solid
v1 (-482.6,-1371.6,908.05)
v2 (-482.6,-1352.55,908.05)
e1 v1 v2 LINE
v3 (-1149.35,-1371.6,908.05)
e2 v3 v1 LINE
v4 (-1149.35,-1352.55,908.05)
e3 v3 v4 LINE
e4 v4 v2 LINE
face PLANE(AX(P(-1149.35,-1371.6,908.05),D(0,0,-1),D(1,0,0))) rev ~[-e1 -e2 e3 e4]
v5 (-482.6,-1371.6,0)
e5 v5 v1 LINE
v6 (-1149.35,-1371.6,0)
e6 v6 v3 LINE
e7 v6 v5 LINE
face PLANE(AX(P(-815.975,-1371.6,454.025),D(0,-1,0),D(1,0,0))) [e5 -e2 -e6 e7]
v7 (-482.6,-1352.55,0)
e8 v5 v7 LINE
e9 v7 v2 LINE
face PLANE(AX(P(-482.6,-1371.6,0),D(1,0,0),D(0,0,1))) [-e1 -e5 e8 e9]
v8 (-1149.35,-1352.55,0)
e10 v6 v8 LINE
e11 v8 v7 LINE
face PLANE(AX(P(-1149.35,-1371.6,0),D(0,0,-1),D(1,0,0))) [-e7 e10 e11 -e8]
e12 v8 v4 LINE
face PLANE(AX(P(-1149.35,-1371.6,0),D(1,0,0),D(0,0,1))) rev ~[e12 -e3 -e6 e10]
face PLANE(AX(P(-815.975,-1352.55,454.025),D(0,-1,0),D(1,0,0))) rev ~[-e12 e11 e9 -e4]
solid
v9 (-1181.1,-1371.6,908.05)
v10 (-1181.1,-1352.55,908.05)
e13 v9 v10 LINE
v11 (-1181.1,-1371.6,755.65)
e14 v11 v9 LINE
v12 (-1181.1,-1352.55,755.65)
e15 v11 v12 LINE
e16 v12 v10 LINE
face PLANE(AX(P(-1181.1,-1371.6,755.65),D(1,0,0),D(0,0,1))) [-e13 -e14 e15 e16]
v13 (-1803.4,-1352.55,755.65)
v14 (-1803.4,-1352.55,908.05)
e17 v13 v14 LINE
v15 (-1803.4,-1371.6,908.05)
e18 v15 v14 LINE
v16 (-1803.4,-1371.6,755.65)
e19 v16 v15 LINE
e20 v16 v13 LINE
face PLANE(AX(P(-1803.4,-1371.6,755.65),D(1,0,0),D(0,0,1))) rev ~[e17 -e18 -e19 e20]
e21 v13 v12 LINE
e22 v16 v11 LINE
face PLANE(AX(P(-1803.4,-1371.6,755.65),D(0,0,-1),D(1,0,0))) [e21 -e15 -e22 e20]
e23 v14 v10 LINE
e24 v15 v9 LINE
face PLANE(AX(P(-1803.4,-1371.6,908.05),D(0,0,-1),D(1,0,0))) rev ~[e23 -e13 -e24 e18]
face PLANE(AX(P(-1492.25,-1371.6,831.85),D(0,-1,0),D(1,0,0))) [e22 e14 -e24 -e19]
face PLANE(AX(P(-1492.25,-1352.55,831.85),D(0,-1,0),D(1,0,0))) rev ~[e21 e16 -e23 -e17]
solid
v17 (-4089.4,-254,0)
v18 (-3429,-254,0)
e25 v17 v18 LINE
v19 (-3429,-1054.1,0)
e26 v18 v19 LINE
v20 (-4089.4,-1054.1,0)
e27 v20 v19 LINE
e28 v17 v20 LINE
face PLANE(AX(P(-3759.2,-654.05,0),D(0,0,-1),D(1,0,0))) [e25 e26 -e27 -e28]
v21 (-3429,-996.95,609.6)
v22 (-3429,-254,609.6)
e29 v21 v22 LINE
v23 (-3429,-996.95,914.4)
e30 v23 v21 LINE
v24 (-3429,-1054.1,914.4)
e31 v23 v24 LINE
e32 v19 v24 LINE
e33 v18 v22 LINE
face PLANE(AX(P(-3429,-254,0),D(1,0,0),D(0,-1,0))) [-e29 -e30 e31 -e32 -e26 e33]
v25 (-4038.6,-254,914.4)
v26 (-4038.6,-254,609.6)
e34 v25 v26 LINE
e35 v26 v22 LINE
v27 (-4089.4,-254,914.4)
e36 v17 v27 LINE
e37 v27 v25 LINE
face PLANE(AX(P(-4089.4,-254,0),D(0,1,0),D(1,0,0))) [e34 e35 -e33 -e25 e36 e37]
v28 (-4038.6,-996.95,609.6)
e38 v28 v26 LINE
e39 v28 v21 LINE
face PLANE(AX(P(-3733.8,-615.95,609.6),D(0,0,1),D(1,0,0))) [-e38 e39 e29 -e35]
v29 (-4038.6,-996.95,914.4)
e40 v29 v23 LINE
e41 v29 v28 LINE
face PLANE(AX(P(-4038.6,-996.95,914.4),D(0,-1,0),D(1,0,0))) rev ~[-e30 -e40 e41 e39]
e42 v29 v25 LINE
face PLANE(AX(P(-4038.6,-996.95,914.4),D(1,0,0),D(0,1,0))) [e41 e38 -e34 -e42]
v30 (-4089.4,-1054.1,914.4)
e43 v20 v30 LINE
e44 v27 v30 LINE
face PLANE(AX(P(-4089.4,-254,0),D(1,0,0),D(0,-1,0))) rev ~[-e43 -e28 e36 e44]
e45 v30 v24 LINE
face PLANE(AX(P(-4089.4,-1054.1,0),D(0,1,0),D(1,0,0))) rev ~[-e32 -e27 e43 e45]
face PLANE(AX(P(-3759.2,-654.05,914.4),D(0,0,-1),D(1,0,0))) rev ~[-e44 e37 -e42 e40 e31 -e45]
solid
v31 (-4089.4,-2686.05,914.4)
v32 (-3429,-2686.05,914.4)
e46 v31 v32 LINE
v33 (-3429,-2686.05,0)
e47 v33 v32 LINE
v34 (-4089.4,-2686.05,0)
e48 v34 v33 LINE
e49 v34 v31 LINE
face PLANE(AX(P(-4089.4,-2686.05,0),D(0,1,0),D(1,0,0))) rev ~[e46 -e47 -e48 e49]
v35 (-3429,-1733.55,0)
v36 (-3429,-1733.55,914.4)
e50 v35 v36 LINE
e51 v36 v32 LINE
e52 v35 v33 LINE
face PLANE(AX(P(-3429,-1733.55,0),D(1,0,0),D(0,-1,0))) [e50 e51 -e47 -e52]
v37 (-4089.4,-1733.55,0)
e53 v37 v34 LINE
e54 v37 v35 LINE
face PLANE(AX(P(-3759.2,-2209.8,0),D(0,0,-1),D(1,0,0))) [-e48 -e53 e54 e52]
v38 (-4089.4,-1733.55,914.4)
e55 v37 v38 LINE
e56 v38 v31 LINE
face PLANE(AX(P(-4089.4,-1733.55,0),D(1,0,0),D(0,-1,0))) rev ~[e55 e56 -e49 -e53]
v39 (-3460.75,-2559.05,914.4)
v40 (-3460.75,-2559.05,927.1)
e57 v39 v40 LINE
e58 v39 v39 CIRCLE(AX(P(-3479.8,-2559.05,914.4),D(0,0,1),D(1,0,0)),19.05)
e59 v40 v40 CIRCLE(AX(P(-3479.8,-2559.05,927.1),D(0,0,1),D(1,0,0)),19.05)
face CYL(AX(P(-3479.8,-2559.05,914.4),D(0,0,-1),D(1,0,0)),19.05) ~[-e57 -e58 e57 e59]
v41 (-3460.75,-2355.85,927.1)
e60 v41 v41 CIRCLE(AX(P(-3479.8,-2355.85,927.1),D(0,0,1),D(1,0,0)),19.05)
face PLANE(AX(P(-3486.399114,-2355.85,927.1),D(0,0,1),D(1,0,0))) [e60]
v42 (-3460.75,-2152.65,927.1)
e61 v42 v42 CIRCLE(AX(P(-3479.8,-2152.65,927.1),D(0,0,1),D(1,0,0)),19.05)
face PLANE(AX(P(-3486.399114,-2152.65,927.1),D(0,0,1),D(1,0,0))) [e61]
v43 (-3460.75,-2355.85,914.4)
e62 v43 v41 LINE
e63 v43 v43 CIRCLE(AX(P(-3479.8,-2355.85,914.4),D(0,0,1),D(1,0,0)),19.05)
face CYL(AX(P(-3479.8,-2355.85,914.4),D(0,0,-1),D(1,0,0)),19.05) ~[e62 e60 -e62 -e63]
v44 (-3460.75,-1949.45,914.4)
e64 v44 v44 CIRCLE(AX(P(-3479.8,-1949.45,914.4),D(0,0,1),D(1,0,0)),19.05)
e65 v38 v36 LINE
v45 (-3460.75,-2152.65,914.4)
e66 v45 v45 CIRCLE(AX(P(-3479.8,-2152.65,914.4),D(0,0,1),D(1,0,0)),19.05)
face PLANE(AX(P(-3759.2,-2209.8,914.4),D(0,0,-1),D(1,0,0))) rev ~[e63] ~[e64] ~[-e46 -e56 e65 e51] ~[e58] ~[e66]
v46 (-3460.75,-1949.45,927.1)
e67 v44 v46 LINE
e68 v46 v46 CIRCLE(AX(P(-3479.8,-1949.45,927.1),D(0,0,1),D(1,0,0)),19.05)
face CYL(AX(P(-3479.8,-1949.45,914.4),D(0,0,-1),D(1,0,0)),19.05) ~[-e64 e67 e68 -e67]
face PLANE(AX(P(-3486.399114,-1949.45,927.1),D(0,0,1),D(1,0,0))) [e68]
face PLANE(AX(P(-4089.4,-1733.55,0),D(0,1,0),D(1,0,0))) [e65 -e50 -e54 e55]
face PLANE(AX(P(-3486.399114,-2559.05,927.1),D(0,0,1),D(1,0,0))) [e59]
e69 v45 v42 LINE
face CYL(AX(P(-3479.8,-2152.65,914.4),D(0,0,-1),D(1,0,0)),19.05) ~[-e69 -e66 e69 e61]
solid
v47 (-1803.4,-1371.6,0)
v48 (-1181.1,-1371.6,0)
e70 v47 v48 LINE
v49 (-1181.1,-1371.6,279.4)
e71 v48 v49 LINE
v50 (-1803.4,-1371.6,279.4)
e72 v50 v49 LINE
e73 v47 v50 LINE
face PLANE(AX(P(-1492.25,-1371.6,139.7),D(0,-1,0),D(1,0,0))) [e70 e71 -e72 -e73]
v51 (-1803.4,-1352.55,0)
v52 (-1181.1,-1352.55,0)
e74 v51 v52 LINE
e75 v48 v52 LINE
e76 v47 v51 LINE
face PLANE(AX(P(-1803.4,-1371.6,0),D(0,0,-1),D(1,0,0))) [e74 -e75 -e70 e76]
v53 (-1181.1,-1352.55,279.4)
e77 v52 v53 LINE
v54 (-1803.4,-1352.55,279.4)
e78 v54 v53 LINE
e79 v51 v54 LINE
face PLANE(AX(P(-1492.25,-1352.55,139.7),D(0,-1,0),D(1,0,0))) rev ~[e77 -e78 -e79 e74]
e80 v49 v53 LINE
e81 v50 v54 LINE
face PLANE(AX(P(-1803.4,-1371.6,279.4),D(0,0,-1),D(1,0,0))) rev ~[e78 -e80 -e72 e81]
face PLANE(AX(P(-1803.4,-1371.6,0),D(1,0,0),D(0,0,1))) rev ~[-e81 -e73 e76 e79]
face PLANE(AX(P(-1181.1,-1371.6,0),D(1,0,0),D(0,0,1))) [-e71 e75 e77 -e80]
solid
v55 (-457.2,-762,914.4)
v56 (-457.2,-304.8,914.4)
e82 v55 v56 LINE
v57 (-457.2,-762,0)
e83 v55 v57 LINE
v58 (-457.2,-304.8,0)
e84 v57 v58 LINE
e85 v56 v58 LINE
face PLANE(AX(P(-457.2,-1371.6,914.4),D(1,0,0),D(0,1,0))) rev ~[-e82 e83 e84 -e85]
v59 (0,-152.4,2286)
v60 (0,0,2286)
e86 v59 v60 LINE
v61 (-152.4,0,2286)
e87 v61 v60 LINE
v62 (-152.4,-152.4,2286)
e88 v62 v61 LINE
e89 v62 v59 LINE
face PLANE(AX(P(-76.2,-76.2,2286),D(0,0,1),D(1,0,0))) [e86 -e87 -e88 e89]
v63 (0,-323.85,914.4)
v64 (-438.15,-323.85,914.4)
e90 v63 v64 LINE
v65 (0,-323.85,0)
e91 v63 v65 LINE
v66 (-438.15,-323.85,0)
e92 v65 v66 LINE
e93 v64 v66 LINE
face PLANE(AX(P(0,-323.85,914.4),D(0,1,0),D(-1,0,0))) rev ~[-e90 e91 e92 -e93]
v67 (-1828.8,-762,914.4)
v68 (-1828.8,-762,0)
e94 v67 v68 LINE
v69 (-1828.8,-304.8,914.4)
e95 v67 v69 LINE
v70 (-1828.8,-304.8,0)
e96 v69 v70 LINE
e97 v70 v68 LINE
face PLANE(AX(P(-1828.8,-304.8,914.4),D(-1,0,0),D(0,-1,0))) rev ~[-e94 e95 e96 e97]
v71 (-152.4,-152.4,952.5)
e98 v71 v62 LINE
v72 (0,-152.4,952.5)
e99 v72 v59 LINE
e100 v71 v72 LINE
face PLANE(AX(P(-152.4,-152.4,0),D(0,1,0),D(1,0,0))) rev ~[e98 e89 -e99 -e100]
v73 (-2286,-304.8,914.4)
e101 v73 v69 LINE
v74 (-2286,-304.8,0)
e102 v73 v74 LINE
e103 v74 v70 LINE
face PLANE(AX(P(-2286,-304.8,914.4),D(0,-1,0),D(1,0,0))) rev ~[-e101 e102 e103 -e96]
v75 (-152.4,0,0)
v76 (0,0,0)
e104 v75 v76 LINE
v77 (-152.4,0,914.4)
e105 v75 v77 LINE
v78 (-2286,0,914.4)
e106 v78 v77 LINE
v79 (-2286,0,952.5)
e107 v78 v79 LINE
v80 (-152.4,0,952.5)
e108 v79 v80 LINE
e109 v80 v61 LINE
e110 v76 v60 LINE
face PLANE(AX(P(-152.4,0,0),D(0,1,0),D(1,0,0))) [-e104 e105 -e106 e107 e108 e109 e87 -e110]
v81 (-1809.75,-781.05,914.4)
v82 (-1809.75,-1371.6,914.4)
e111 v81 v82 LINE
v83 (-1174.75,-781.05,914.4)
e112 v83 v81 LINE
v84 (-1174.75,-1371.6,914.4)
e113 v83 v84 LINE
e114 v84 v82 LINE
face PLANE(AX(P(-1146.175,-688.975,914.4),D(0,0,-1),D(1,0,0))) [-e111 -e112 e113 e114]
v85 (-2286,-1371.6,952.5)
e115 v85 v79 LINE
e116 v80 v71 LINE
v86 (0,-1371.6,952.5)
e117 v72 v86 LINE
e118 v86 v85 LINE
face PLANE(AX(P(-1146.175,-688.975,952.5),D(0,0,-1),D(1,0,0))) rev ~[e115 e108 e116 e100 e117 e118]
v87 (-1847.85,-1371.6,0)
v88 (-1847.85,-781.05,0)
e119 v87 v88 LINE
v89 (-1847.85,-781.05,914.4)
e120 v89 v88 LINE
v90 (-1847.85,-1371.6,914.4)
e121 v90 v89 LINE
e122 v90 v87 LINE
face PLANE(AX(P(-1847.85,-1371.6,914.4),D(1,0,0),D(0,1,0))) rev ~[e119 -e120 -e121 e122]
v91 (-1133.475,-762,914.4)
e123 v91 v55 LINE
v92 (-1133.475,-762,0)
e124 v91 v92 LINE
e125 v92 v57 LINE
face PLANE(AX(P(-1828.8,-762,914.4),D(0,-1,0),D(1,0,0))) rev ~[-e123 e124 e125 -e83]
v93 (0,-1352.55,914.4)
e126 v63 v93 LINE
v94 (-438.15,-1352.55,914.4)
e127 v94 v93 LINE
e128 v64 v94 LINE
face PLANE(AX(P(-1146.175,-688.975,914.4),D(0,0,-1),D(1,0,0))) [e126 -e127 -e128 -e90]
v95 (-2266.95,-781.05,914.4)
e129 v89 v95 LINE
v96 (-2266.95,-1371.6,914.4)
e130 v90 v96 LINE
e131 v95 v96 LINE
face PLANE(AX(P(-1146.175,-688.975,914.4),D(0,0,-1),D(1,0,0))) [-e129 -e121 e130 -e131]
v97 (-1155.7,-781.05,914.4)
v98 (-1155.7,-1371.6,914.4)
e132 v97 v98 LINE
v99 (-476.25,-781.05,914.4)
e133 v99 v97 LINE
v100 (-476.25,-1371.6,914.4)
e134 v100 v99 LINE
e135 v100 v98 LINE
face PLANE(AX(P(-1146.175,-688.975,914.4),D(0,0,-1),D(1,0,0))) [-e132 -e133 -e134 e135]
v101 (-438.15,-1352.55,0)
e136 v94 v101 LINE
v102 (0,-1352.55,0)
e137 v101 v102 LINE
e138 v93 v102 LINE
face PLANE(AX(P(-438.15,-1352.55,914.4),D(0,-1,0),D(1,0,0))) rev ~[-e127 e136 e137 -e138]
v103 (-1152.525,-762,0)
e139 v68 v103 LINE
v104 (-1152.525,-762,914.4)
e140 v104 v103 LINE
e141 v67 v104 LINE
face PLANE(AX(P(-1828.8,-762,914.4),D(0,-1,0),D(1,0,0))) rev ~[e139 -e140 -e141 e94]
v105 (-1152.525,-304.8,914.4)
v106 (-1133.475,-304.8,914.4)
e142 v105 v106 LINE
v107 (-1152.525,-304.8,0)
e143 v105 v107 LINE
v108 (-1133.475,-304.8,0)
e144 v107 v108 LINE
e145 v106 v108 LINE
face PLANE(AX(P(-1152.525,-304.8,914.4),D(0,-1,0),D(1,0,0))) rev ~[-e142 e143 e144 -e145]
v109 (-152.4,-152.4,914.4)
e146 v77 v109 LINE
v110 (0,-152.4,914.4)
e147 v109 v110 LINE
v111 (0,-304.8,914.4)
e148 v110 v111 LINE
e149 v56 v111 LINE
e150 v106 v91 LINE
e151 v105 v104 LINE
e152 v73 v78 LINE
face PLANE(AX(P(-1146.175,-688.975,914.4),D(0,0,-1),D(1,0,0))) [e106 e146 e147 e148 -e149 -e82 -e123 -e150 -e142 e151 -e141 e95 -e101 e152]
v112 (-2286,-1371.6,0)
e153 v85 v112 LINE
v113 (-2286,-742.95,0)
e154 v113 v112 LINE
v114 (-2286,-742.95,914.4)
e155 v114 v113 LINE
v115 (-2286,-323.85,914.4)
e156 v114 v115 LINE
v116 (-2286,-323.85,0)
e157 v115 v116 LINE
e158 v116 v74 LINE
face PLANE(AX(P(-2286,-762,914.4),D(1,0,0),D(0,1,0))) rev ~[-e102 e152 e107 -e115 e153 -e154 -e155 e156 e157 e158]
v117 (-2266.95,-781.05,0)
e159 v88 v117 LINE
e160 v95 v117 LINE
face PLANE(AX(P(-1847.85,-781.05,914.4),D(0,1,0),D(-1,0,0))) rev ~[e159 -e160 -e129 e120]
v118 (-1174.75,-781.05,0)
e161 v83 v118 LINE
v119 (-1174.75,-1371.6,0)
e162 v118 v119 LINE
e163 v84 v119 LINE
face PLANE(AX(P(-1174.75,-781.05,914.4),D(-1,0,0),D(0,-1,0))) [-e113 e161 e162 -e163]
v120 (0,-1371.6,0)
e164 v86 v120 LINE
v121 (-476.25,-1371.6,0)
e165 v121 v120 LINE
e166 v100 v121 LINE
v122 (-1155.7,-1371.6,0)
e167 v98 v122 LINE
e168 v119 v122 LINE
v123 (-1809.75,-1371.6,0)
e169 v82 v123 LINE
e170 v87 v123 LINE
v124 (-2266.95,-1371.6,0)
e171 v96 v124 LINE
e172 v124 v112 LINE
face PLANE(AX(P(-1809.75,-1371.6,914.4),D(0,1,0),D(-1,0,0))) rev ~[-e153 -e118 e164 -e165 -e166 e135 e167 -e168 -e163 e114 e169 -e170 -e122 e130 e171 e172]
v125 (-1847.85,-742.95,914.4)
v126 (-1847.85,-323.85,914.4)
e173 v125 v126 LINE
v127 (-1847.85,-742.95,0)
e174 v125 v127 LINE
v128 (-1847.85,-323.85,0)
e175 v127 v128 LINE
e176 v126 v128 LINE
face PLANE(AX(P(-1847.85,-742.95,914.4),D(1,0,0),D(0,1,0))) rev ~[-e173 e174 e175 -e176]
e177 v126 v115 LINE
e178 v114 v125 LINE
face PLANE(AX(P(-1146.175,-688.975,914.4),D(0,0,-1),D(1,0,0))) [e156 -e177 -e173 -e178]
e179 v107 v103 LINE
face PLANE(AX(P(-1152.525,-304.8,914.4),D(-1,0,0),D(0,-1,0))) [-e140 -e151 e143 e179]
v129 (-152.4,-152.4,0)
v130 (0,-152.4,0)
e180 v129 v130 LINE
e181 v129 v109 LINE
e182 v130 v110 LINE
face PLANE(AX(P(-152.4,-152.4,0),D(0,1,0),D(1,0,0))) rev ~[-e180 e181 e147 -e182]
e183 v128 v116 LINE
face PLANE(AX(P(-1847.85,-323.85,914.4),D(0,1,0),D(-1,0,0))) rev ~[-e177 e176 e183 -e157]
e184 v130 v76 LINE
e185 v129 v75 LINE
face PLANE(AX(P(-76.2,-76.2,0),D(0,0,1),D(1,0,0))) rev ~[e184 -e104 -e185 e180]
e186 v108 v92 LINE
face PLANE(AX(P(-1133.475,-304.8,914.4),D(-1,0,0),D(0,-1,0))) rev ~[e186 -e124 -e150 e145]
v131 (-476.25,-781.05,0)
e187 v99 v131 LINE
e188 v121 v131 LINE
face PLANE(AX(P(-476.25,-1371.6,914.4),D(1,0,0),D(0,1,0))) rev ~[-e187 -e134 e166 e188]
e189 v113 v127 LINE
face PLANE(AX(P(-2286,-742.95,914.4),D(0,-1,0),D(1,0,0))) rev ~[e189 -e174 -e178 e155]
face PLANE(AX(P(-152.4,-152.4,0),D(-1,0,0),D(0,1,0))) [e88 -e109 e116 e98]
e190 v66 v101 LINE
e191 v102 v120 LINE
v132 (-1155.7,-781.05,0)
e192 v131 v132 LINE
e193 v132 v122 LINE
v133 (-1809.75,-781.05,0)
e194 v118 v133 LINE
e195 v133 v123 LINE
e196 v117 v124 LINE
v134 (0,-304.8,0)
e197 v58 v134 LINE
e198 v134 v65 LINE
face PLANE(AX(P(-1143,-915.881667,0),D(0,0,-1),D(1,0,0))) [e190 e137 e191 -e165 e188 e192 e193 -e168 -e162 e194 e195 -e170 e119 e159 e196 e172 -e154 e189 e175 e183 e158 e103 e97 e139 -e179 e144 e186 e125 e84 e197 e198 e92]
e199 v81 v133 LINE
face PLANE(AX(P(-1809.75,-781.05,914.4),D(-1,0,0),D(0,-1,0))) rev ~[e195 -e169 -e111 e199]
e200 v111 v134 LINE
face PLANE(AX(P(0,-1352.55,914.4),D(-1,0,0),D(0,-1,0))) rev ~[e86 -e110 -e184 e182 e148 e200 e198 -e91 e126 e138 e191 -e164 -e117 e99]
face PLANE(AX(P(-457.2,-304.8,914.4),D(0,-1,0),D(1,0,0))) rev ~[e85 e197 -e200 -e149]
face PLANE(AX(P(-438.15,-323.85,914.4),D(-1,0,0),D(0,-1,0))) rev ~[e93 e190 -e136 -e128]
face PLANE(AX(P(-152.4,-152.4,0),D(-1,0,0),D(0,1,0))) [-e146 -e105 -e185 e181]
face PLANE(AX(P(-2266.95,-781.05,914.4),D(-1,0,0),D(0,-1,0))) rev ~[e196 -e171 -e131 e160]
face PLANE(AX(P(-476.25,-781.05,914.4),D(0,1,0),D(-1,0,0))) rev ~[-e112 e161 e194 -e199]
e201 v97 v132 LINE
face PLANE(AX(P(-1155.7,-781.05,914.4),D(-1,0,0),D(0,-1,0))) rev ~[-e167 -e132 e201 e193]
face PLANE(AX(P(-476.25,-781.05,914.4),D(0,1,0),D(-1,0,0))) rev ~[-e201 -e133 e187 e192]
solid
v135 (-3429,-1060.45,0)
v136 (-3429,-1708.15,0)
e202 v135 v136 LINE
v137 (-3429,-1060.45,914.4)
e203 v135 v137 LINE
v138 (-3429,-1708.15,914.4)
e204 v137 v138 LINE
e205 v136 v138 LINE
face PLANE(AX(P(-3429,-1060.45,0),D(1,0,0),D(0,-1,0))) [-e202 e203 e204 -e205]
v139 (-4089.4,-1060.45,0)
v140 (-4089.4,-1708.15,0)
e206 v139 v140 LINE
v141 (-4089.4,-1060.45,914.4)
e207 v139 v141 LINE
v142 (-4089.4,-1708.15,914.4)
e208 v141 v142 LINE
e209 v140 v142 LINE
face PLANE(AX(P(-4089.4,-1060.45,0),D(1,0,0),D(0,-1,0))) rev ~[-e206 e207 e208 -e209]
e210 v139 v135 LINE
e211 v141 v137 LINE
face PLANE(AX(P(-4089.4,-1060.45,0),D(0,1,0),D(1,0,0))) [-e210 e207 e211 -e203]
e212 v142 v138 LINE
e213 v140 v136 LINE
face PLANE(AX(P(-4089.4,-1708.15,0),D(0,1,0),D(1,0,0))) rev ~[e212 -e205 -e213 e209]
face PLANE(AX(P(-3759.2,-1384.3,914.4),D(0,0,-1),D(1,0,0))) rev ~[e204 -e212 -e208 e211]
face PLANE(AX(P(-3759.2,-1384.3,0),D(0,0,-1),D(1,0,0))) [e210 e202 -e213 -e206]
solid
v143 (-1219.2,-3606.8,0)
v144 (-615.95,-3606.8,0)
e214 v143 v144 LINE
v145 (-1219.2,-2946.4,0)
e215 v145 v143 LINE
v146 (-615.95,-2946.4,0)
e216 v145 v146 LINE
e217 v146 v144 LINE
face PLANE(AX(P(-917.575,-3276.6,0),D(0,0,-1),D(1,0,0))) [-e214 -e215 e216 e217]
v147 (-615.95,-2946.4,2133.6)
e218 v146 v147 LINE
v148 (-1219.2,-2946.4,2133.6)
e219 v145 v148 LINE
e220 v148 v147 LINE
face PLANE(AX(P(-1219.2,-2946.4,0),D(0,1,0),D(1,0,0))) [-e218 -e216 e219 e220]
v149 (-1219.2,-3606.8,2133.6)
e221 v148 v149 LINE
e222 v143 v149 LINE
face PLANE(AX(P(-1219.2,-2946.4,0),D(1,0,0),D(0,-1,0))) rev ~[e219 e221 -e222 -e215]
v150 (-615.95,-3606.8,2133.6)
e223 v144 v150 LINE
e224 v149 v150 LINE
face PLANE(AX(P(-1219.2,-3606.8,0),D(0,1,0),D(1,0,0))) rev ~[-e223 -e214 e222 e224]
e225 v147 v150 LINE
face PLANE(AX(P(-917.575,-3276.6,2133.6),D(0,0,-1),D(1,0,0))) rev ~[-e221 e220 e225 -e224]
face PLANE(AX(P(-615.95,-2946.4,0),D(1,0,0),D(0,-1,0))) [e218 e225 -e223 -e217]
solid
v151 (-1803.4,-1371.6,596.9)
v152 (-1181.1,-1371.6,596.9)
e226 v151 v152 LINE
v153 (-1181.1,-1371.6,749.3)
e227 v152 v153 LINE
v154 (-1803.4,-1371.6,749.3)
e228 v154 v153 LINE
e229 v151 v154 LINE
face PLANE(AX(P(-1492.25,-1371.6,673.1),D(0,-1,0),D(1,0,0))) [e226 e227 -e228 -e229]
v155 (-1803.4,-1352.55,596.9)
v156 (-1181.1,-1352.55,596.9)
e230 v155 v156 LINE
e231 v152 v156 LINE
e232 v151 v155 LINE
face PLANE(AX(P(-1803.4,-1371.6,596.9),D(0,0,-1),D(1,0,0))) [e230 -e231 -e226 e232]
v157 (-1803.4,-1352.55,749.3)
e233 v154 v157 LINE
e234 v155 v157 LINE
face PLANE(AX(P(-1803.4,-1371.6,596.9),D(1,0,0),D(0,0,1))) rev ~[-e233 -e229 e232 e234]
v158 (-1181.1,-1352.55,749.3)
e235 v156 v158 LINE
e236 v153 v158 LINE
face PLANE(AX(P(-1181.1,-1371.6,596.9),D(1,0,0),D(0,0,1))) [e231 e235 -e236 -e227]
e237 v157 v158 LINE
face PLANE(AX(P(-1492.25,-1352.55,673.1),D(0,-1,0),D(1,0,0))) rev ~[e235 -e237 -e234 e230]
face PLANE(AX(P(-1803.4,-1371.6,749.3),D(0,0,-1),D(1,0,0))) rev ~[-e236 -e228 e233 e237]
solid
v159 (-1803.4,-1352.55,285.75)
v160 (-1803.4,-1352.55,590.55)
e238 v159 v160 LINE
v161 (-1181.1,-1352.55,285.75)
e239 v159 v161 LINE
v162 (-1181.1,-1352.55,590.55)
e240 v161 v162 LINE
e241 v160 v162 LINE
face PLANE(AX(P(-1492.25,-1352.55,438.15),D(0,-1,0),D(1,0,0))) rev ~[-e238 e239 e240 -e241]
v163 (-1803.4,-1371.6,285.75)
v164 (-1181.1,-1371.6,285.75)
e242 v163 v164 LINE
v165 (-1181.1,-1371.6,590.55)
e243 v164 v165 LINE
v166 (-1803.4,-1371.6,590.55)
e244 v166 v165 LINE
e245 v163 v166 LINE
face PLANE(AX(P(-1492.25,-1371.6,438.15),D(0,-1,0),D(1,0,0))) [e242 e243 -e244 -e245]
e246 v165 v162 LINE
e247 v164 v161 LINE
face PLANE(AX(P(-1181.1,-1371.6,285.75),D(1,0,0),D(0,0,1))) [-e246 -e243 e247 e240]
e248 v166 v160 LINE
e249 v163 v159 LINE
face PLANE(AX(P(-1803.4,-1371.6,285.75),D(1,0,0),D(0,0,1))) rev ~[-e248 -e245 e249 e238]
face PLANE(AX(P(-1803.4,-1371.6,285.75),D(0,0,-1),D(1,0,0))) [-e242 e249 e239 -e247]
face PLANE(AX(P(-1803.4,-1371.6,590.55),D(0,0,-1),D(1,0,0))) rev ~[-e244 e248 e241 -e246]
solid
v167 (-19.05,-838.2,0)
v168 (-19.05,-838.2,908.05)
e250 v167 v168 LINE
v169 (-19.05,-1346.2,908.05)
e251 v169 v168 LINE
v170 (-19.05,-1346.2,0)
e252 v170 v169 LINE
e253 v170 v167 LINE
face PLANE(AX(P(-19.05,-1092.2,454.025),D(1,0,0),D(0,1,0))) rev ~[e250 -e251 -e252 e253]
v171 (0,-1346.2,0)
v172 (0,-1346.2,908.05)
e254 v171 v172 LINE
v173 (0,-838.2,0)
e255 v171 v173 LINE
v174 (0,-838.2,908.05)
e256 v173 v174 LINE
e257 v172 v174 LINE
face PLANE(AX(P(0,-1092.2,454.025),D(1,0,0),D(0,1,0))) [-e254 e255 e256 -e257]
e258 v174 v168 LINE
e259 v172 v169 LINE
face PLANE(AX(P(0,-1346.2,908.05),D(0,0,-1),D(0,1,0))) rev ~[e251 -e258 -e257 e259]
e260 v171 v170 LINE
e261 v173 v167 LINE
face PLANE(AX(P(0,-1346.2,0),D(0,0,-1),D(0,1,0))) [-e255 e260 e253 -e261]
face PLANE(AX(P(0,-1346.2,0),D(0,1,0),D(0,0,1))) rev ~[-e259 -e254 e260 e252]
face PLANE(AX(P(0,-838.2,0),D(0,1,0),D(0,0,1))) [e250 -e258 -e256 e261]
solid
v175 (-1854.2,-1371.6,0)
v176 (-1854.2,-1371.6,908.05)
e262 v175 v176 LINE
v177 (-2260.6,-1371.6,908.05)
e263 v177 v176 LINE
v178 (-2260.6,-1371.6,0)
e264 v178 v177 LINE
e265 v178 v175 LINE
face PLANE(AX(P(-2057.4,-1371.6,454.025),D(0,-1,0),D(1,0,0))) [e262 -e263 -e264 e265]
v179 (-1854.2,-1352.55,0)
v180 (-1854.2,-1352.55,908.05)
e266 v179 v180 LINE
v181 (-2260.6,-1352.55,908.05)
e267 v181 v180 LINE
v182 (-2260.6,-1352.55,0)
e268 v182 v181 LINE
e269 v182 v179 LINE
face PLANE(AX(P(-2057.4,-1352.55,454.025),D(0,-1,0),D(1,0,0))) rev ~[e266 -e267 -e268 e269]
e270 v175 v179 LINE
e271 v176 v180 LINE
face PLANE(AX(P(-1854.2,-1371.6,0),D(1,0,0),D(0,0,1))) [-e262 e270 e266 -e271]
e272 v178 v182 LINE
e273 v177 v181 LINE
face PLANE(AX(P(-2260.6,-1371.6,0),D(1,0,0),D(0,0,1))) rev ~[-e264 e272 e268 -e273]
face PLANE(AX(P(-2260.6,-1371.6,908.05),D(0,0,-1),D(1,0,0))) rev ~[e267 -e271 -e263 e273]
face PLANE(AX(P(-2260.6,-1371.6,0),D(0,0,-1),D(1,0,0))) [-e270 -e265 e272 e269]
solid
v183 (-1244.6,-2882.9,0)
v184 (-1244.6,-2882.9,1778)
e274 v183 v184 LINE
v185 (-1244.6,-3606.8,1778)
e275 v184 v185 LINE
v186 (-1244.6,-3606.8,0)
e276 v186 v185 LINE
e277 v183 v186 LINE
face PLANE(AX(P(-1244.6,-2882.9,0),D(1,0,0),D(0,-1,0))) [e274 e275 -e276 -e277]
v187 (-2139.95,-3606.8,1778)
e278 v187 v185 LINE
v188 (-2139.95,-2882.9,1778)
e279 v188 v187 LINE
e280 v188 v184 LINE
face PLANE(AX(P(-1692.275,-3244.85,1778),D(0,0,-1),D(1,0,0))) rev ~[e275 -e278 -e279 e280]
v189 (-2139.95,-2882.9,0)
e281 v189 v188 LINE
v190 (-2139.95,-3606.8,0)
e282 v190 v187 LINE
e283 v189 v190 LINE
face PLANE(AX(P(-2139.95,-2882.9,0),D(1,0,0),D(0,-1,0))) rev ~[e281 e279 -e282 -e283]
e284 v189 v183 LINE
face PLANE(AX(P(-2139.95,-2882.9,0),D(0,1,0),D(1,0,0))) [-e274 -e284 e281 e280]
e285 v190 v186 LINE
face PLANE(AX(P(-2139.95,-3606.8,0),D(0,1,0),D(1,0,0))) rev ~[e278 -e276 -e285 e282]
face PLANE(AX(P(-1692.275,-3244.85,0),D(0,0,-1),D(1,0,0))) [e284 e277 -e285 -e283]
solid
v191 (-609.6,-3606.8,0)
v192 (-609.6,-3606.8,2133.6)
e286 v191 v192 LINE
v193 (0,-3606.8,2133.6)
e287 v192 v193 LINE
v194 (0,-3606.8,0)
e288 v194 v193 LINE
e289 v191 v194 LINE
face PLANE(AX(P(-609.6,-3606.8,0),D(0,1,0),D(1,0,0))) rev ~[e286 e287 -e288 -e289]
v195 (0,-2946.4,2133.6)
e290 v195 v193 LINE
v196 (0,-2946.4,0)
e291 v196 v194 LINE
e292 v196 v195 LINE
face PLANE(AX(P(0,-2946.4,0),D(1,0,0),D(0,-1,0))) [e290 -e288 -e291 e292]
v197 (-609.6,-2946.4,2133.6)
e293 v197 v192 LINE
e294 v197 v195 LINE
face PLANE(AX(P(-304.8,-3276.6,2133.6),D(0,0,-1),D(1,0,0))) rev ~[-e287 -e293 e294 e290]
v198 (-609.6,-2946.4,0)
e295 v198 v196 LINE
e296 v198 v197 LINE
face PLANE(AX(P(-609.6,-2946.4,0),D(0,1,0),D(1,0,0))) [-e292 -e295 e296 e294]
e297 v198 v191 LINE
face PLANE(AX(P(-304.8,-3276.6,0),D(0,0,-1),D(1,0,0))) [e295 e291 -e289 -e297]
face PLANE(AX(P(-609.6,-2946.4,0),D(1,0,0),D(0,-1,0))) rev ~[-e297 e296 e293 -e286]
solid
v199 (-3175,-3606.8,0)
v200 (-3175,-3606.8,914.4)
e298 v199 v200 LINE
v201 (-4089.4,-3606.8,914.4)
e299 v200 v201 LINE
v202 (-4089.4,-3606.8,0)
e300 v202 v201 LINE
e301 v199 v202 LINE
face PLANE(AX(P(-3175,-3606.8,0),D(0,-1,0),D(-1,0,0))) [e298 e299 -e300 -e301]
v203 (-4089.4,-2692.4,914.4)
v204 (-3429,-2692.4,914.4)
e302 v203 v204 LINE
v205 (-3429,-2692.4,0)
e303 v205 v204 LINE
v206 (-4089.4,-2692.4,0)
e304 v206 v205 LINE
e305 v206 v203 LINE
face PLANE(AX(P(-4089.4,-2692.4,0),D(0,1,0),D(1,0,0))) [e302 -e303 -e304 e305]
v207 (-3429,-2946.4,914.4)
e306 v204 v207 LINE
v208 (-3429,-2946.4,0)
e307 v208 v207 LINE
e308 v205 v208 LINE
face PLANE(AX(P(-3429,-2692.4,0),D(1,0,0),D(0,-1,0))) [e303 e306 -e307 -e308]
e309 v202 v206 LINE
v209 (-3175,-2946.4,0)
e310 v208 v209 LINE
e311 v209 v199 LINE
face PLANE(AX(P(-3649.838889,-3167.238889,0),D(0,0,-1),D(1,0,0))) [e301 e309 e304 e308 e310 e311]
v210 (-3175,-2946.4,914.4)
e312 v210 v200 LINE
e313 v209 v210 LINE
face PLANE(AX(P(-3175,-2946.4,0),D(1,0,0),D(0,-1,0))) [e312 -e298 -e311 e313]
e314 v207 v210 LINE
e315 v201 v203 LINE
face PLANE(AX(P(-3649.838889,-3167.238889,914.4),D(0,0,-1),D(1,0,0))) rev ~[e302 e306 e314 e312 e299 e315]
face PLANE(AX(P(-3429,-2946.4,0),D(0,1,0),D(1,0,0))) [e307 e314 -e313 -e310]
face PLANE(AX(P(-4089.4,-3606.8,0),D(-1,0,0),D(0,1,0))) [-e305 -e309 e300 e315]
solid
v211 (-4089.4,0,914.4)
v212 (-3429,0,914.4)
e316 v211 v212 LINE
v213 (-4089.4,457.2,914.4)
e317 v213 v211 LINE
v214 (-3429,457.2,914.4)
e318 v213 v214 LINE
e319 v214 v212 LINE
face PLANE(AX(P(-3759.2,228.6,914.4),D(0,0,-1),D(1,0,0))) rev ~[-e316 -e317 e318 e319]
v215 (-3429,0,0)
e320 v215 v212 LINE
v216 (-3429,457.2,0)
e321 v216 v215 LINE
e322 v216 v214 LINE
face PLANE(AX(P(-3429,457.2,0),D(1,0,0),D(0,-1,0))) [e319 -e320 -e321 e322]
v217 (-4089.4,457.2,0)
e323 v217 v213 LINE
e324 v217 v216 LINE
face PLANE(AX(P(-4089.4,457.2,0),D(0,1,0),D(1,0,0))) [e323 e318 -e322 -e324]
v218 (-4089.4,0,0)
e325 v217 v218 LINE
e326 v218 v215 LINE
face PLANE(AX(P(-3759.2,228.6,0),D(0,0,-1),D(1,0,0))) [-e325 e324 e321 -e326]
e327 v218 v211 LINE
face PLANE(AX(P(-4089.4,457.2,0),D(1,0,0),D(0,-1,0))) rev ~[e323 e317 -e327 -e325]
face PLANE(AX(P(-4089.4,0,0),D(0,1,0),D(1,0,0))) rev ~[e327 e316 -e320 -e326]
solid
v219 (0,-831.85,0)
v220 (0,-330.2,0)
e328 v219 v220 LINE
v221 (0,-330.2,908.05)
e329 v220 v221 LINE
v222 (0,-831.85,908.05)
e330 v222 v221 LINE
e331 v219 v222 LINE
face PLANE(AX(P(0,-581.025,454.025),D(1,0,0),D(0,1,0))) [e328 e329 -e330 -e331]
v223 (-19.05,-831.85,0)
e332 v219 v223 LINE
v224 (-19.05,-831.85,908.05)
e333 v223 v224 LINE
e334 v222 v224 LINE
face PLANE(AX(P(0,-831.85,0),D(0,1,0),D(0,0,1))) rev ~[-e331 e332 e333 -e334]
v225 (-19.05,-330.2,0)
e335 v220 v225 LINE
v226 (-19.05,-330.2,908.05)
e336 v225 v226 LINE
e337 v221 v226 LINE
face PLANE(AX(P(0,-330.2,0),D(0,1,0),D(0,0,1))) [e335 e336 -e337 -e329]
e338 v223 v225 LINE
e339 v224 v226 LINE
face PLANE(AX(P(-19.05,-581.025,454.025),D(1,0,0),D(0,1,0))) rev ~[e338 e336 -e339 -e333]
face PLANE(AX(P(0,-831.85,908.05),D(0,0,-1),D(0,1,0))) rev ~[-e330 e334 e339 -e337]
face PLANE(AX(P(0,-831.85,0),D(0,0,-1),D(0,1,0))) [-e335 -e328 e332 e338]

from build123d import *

# Parameters (mm, degrees)
F0_W      = 152.4
F0_H      = 152.4
F1_DEPTH  = 2286
F4_DEPTH  = 38.1
F7_DEPTH  = 914.4
F9_DEPTH  = 914.4
F11_DEPTH = 914.4
F13_DEPTH = 914.4
F14_W     = 19.05
F14_H     = 590.55
F15_DEPTH = 914.4
F16_W     = 19.05
F16_H     = 457.2
F17_DEPTH = 914.4
F18_W     = 508
F18_H     = 908.05
F19_DEPTH = 19.05
F20_W     = 501.65
F20_H     = 908.05
F21_DEPTH = 19.05
F22_W     = 622.3
F22_H     = 152.4
F23_DEPTH = 19.05
F22_H_2   = 304.8
F22_H_3   = 279.4
F24_W     = 406.4
F24_H     = 908.05
F25_DEPTH = 19.05
F26_W     = 666.75
F26_H     = 908.05
F27_DEPTH = 19.05
F29_W     = 609.6
F29_H     = 660.4
F30_DEPTH = 2133.6
F31_W     = 603.25
F31_H     = 660.4
F32_DEPTH = 2133.6
F33_W     = 895.35
F33_H     = 723.9
F34_DEPTH = 1778
F37_W     = 660.4
F37_H     = 800.1
F38_DEPTH = 914.4
F40_DEPTH = 914.4
F41_W     = 660.4
F41_H     = 952.5
F42_DEPTH = 914.4
F43_W     = 660.4
F43_H     = 457.2
F44_DEPTH = 914.4
F46_W     = 660.4
F46_H     = 647.7
F47_DEPTH = 914.4
F48_DEPTH = 12.7
F49_W     = 609.6
F49_H     = 762
F50_DEPTH = 304.8


with BuildPart() as f1:
    # F0 (on Top) → F1 (new body)
    with BuildSketch(Plane.XY):
        with Locations((-76.2, -76.2)):
            Rectangle(F0_W, F0_H)
    extrude(amount=F1_DEPTH)

    # F3 (on offset) → F4 (join)
    with BuildSketch(Plane(origin=(0, 0, 914.4), x_dir=(1, 0, 0), z_dir=(0, 0, -1))):
        Polygon((-152.4, 152.4), (0, 152.4), (0, 1371.6), (-2286, 1371.6), (-2286, 0), (-152.4, 0), align=None)
    extrude(amount=-F4_DEPTH)

    # F6 (on face) → F7 (join, through all)
    with BuildSketch(Plane(origin=(0, 0, 914.4), x_dir=(1, 0, 0), z_dir=(0, 0, -1))):
        Polygon((0, 1352.55), (0, 1371.6), (-457.2, 1371.6), (-457.2, 304.8), (0, 304.8), (0, 323.85), (-438.15, 323.85), (-438.15, 1352.55), align=None)
    extrude(amount=F7_DEPTH)

    # F8 (on face) → F9 (join, through all)
    with BuildSketch(Plane(origin=(0, 0, 914.4), x_dir=(1, 0, 0), z_dir=(0, 0, -1))):
        Polygon((-2266.95, 1371.6), (-2286, 1371.6), (-2286, 762), (-1828.8, 762), (-1828.8, 1371.6), (-1847.85, 1371.6), (-1847.85, 781.05), (-2266.95, 781.05), align=None)
    extrude(amount=F9_DEPTH)

    # F10 (on face) → F11 (join, through all)
    with BuildSketch(Plane(origin=(0, 0, 914.4), x_dir=(1, 0, 0), z_dir=(0, 0, -1))):
        Polygon((-1828.8, 762), (-2286, 762), (-2286, 742.95), (-1847.85, 742.95), (-1847.85, 323.85), (-2286, 323.85), (-2286, 304.8), (-1828.8, 304.8), align=None)
    extrude(amount=F11_DEPTH)

    # F12 (on face) → F13 (join, through all)
    with BuildSketch(Plane(origin=(0, 0, 914.4), x_dir=(1, 0, 0), z_dir=(0, 0, -1))):
        Polygon((-1809.75, 1371.6), (-1828.8, 1371.6), (-1828.8, 762), (-457.2, 762), (-457.2, 1371.6), (-476.25, 1371.6), (-476.25, 781.05), (-1809.75, 781.05), align=None)
    extrude(amount=F13_DEPTH)

    # F14 (on face) → F15 (join, through all)
    with BuildSketch(Plane(origin=(0, 0, 914.4), x_dir=(1, 0, 0), z_dir=(0, 0, -1))):
        with Locations((-1165.225, 1076.325)):
            Rectangle(F14_W, F14_H)
    extrude(amount=F15_DEPTH)

    # F16 (on face) → F17 (join, through all)
    with BuildSketch(Plane(origin=(0, 0, 914.4), x_dir=(1, 0, 0), z_dir=(0, 0, -1))):
        with Locations((-1143, 533.4)):
            Rectangle(F16_W, F16_H)
    extrude(amount=F17_DEPTH)


with BuildPart() as f19:
    # F18 (on face) → F19 (new body)
    with BuildSketch(Plane.YZ):
        with Locations((-1092.2, 454.025)):
            Rectangle(F18_W, F18_H)
    extrude(amount=-F19_DEPTH)


with BuildPart() as f21:
    # F20 (on face) → F21 (new body)
    with BuildSketch(Plane.YZ):
        with Locations((-581.025, 454.025)):
            Rectangle(F20_W, F20_H)
    extrude(amount=-F21_DEPTH)


with BuildPart() as f23:
    # F22 (on face) → F23 (new body)
    with BuildSketch(Plane.XZ.offset(1371.6)):
        with Locations((-1492.25, 831.85)):
            Rectangle(F22_W, F22_H)
    extrude(amount=-F23_DEPTH)


with BuildPart() as f23b:
    # F22 (on face) → F23, piece 2 (new body)
    with BuildSketch(Plane.XZ.offset(1371.6)):
        with Locations((-1492.25, 673.1)):
            Rectangle(F22_W, F22_H)
    extrude(amount=-F23_DEPTH)


with BuildPart() as f23c:
    # F22 (on face) → F23, piece 3 (new body)
    with BuildSketch(Plane.XZ.offset(1371.6)):
        with Locations((-1492.25, 438.15)):
            Rectangle(F22_W, F22_H_2)
    extrude(amount=-F23_DEPTH)


with BuildPart() as f23d:
    # F22 (on face) → F23, piece 4 (new body)
    with BuildSketch(Plane.XZ.offset(1371.6)):
        with Locations((-1492.25, 139.7)):
            Rectangle(F22_W, F22_H_3)
    extrude(amount=-F23_DEPTH)


with BuildPart() as f25:
    # F24 (on face) → F25 (new body)
    with BuildSketch(Plane.XZ.offset(1371.6)):
        with Locations((-2057.4, 454.025)):
            Rectangle(F24_W, F24_H)
    extrude(amount=-F25_DEPTH)


with BuildPart() as f27:
    # F26 (on face) → F27 (new body)
    with BuildSketch(Plane.XZ.offset(1371.6)):
        with Locations((-815.975, 454.025)):
            Rectangle(F26_W, F26_H)
    extrude(amount=-F27_DEPTH)


with BuildPart() as f30:
    # F29 (on face) → F30 (new body)
    with BuildSketch(Plane(origin=(0, 0, 0), x_dir=(1, 0, 0), z_dir=(0, 0, -1))):
        with Locations((-304.8, 3276.6)):
            Rectangle(F29_W, F29_H)
    extrude(amount=-F30_DEPTH)


with BuildPart() as f32:
    # F31 (on face) → F32 (new body, through all)
    with BuildSketch(Plane(origin=(0, 0, 0), x_dir=(1, 0, 0), z_dir=(0, 0, -1))):
        with Locations((-917.575, 3276.6)):
            Rectangle(F31_W, F31_H)
    extrude(amount=-F32_DEPTH)


with BuildPart() as f34:
    # F33 (on face) → F34 (new body)
    with BuildSketch(Plane(origin=(0, 0, 0), x_dir=(1, 0, 0), z_dir=(0, 0, -1))):
        with Locations((-1692.275, 3244.85)):
            Rectangle(F33_W, F33_H)
    extrude(amount=-F34_DEPTH)


with BuildPart() as f38:
    # F37 (on face) → F38 (new body)
    with BuildSketch(Plane(origin=(0, 0, 0), x_dir=(1, 0, 0), z_dir=(0, 0, -1))):
        with Locations((-3759.2, 654.05)):
            Rectangle(F37_W, F37_H)
    extrude(amount=-F38_DEPTH)

    # F49 (on face) → F50 (cut)
    with BuildSketch(Plane.XY.offset(914.4)):
        with Locations((-3733.8, -615.95)):
            Rectangle(F49_W, F49_H)
    extrude(amount=-F50_DEPTH, mode=Mode.SUBTRACT)


with BuildPart() as f40:
    # F39 (on face) → F40 (new body)
    with BuildSketch(Plane(origin=(0, 0, 0), x_dir=(1, 0, 0), z_dir=(0, 0, -1))):
        Polygon((-3175, 2946.4), (-3175, 3606.8), (-4089.4, 3606.8), (-4089.4, 2692.4), (-3429, 2692.4), (-3429, 2946.4), align=None)
    extrude(amount=-F40_DEPTH)


with BuildPart() as f42:
    # F41 (on face) → F42 (new body)
    with BuildSketch(Plane(origin=(0, 0, 0), x_dir=(1, 0, 0), z_dir=(0, 0, -1))):
        with Locations((-3759.2, 2209.8)):
            Rectangle(F41_W, F41_H)
    extrude(amount=-F42_DEPTH)

    # F45 (on face) → F48 (join)
    with BuildSketch(Plane.XY.offset(914.4)):
        with BuildLine():
            ThreePointArc((-3479.8, -2540), (-3498.85, -2559.05), (-3479.8, -2578.1))
            Line((-3479.8, -2578.1), (-3479.8, -2540))
        make_face()
        with BuildLine():
            ThreePointArc((-3479.8, -1930.4), (-3498.85, -1949.45), (-3479.8, -1968.5))
            Line((-3479.8, -1968.5), (-3479.8, -1930.4))
        make_face()
        with BuildLine():
            Line((-3479.8, -1930.4), (-3479.8, -1968.5))
            ThreePointArc((-3479.8, -1968.5), (-3466.3296158184, -1962.9203841816), (-3460.75, -1949.45))
            ThreePointArc((-3460.75, -1949.45), (-3466.3296158184, -1935.9796158184), (-3479.8, -1930.4))
        make_face()
        with BuildLine():
            ThreePointArc((-3479.8, -2133.6), (-3498.85, -2152.65), (-3479.8, -2171.7))
            Line((-3479.8, -2171.7), (-3479.8, -2133.6))
        make_face()
        with BuildLine():
            Line((-3479.8, -2133.6), (-3479.8, -2171.7))
            ThreePointArc((-3479.8, -2171.7), (-3466.3296158184, -2166.1203841816), (-3460.75, -2152.65))
            ThreePointArc((-3460.75, -2152.65), (-3466.3296158184, -2139.1796158184), (-3479.8, -2133.6))
        make_face()
        with BuildLine():
            ThreePointArc((-3479.8, -2336.8), (-3498.85, -2355.85), (-3479.8, -2374.9))
            Line((-3479.8, -2374.9), (-3479.8, -2336.8))
        make_face()
        with BuildLine():
            Line((-3479.8, -2336.8), (-3479.8, -2374.9))
            ThreePointArc((-3479.8, -2374.9), (-3466.3296158184, -2369.3203841816), (-3460.75, -2355.85))
            ThreePointArc((-3460.75, -2355.85), (-3466.3296158184, -2342.3796158184), (-3479.8, -2336.8))
        make_face()
        with BuildLine():
            Line((-3479.8, -2540), (-3479.8, -2578.1))
            ThreePointArc((-3479.8, -2578.1), (-3466.3296158184, -2572.5203841816), (-3460.75, -2559.05))
            ThreePointArc((-3460.75, -2559.05), (-3466.3296158184, -2545.5796158184), (-3479.8, -2540))
        make_face()
    extrude(amount=F48_DEPTH)


with BuildPart() as f44:
    # F43 (on face) → F44 (new body)
    with BuildSketch(Plane(origin=(0, 0, 0), x_dir=(1, 0, 0), z_dir=(0, 0, -1))):
        with Locations((-3759.2, -228.6)):
            Rectangle(F43_W, F43_H)
    extrude(amount=-F44_DEPTH)


with BuildPart() as f47:
    # F46 (on face) → F47 (new body)
    with BuildSketch(Plane(origin=(0, 0, 0), x_dir=(1, 0, 0), z_dir=(0, 0, -1))):
        with Locations((-3759.2, 1384.3)):
            Rectangle(F46_W, F46_H)
    extrude(amount=-F47_DEPTH)


solid = Compound([f1.part, f19.part, f21.part, f23.part, f23b.part, f23c.part, f23d.part, f25.part, f27.part, f30.part, f32.part, f34.part, f38.part, f40.part, f42.part, f44.part, f47.part])
